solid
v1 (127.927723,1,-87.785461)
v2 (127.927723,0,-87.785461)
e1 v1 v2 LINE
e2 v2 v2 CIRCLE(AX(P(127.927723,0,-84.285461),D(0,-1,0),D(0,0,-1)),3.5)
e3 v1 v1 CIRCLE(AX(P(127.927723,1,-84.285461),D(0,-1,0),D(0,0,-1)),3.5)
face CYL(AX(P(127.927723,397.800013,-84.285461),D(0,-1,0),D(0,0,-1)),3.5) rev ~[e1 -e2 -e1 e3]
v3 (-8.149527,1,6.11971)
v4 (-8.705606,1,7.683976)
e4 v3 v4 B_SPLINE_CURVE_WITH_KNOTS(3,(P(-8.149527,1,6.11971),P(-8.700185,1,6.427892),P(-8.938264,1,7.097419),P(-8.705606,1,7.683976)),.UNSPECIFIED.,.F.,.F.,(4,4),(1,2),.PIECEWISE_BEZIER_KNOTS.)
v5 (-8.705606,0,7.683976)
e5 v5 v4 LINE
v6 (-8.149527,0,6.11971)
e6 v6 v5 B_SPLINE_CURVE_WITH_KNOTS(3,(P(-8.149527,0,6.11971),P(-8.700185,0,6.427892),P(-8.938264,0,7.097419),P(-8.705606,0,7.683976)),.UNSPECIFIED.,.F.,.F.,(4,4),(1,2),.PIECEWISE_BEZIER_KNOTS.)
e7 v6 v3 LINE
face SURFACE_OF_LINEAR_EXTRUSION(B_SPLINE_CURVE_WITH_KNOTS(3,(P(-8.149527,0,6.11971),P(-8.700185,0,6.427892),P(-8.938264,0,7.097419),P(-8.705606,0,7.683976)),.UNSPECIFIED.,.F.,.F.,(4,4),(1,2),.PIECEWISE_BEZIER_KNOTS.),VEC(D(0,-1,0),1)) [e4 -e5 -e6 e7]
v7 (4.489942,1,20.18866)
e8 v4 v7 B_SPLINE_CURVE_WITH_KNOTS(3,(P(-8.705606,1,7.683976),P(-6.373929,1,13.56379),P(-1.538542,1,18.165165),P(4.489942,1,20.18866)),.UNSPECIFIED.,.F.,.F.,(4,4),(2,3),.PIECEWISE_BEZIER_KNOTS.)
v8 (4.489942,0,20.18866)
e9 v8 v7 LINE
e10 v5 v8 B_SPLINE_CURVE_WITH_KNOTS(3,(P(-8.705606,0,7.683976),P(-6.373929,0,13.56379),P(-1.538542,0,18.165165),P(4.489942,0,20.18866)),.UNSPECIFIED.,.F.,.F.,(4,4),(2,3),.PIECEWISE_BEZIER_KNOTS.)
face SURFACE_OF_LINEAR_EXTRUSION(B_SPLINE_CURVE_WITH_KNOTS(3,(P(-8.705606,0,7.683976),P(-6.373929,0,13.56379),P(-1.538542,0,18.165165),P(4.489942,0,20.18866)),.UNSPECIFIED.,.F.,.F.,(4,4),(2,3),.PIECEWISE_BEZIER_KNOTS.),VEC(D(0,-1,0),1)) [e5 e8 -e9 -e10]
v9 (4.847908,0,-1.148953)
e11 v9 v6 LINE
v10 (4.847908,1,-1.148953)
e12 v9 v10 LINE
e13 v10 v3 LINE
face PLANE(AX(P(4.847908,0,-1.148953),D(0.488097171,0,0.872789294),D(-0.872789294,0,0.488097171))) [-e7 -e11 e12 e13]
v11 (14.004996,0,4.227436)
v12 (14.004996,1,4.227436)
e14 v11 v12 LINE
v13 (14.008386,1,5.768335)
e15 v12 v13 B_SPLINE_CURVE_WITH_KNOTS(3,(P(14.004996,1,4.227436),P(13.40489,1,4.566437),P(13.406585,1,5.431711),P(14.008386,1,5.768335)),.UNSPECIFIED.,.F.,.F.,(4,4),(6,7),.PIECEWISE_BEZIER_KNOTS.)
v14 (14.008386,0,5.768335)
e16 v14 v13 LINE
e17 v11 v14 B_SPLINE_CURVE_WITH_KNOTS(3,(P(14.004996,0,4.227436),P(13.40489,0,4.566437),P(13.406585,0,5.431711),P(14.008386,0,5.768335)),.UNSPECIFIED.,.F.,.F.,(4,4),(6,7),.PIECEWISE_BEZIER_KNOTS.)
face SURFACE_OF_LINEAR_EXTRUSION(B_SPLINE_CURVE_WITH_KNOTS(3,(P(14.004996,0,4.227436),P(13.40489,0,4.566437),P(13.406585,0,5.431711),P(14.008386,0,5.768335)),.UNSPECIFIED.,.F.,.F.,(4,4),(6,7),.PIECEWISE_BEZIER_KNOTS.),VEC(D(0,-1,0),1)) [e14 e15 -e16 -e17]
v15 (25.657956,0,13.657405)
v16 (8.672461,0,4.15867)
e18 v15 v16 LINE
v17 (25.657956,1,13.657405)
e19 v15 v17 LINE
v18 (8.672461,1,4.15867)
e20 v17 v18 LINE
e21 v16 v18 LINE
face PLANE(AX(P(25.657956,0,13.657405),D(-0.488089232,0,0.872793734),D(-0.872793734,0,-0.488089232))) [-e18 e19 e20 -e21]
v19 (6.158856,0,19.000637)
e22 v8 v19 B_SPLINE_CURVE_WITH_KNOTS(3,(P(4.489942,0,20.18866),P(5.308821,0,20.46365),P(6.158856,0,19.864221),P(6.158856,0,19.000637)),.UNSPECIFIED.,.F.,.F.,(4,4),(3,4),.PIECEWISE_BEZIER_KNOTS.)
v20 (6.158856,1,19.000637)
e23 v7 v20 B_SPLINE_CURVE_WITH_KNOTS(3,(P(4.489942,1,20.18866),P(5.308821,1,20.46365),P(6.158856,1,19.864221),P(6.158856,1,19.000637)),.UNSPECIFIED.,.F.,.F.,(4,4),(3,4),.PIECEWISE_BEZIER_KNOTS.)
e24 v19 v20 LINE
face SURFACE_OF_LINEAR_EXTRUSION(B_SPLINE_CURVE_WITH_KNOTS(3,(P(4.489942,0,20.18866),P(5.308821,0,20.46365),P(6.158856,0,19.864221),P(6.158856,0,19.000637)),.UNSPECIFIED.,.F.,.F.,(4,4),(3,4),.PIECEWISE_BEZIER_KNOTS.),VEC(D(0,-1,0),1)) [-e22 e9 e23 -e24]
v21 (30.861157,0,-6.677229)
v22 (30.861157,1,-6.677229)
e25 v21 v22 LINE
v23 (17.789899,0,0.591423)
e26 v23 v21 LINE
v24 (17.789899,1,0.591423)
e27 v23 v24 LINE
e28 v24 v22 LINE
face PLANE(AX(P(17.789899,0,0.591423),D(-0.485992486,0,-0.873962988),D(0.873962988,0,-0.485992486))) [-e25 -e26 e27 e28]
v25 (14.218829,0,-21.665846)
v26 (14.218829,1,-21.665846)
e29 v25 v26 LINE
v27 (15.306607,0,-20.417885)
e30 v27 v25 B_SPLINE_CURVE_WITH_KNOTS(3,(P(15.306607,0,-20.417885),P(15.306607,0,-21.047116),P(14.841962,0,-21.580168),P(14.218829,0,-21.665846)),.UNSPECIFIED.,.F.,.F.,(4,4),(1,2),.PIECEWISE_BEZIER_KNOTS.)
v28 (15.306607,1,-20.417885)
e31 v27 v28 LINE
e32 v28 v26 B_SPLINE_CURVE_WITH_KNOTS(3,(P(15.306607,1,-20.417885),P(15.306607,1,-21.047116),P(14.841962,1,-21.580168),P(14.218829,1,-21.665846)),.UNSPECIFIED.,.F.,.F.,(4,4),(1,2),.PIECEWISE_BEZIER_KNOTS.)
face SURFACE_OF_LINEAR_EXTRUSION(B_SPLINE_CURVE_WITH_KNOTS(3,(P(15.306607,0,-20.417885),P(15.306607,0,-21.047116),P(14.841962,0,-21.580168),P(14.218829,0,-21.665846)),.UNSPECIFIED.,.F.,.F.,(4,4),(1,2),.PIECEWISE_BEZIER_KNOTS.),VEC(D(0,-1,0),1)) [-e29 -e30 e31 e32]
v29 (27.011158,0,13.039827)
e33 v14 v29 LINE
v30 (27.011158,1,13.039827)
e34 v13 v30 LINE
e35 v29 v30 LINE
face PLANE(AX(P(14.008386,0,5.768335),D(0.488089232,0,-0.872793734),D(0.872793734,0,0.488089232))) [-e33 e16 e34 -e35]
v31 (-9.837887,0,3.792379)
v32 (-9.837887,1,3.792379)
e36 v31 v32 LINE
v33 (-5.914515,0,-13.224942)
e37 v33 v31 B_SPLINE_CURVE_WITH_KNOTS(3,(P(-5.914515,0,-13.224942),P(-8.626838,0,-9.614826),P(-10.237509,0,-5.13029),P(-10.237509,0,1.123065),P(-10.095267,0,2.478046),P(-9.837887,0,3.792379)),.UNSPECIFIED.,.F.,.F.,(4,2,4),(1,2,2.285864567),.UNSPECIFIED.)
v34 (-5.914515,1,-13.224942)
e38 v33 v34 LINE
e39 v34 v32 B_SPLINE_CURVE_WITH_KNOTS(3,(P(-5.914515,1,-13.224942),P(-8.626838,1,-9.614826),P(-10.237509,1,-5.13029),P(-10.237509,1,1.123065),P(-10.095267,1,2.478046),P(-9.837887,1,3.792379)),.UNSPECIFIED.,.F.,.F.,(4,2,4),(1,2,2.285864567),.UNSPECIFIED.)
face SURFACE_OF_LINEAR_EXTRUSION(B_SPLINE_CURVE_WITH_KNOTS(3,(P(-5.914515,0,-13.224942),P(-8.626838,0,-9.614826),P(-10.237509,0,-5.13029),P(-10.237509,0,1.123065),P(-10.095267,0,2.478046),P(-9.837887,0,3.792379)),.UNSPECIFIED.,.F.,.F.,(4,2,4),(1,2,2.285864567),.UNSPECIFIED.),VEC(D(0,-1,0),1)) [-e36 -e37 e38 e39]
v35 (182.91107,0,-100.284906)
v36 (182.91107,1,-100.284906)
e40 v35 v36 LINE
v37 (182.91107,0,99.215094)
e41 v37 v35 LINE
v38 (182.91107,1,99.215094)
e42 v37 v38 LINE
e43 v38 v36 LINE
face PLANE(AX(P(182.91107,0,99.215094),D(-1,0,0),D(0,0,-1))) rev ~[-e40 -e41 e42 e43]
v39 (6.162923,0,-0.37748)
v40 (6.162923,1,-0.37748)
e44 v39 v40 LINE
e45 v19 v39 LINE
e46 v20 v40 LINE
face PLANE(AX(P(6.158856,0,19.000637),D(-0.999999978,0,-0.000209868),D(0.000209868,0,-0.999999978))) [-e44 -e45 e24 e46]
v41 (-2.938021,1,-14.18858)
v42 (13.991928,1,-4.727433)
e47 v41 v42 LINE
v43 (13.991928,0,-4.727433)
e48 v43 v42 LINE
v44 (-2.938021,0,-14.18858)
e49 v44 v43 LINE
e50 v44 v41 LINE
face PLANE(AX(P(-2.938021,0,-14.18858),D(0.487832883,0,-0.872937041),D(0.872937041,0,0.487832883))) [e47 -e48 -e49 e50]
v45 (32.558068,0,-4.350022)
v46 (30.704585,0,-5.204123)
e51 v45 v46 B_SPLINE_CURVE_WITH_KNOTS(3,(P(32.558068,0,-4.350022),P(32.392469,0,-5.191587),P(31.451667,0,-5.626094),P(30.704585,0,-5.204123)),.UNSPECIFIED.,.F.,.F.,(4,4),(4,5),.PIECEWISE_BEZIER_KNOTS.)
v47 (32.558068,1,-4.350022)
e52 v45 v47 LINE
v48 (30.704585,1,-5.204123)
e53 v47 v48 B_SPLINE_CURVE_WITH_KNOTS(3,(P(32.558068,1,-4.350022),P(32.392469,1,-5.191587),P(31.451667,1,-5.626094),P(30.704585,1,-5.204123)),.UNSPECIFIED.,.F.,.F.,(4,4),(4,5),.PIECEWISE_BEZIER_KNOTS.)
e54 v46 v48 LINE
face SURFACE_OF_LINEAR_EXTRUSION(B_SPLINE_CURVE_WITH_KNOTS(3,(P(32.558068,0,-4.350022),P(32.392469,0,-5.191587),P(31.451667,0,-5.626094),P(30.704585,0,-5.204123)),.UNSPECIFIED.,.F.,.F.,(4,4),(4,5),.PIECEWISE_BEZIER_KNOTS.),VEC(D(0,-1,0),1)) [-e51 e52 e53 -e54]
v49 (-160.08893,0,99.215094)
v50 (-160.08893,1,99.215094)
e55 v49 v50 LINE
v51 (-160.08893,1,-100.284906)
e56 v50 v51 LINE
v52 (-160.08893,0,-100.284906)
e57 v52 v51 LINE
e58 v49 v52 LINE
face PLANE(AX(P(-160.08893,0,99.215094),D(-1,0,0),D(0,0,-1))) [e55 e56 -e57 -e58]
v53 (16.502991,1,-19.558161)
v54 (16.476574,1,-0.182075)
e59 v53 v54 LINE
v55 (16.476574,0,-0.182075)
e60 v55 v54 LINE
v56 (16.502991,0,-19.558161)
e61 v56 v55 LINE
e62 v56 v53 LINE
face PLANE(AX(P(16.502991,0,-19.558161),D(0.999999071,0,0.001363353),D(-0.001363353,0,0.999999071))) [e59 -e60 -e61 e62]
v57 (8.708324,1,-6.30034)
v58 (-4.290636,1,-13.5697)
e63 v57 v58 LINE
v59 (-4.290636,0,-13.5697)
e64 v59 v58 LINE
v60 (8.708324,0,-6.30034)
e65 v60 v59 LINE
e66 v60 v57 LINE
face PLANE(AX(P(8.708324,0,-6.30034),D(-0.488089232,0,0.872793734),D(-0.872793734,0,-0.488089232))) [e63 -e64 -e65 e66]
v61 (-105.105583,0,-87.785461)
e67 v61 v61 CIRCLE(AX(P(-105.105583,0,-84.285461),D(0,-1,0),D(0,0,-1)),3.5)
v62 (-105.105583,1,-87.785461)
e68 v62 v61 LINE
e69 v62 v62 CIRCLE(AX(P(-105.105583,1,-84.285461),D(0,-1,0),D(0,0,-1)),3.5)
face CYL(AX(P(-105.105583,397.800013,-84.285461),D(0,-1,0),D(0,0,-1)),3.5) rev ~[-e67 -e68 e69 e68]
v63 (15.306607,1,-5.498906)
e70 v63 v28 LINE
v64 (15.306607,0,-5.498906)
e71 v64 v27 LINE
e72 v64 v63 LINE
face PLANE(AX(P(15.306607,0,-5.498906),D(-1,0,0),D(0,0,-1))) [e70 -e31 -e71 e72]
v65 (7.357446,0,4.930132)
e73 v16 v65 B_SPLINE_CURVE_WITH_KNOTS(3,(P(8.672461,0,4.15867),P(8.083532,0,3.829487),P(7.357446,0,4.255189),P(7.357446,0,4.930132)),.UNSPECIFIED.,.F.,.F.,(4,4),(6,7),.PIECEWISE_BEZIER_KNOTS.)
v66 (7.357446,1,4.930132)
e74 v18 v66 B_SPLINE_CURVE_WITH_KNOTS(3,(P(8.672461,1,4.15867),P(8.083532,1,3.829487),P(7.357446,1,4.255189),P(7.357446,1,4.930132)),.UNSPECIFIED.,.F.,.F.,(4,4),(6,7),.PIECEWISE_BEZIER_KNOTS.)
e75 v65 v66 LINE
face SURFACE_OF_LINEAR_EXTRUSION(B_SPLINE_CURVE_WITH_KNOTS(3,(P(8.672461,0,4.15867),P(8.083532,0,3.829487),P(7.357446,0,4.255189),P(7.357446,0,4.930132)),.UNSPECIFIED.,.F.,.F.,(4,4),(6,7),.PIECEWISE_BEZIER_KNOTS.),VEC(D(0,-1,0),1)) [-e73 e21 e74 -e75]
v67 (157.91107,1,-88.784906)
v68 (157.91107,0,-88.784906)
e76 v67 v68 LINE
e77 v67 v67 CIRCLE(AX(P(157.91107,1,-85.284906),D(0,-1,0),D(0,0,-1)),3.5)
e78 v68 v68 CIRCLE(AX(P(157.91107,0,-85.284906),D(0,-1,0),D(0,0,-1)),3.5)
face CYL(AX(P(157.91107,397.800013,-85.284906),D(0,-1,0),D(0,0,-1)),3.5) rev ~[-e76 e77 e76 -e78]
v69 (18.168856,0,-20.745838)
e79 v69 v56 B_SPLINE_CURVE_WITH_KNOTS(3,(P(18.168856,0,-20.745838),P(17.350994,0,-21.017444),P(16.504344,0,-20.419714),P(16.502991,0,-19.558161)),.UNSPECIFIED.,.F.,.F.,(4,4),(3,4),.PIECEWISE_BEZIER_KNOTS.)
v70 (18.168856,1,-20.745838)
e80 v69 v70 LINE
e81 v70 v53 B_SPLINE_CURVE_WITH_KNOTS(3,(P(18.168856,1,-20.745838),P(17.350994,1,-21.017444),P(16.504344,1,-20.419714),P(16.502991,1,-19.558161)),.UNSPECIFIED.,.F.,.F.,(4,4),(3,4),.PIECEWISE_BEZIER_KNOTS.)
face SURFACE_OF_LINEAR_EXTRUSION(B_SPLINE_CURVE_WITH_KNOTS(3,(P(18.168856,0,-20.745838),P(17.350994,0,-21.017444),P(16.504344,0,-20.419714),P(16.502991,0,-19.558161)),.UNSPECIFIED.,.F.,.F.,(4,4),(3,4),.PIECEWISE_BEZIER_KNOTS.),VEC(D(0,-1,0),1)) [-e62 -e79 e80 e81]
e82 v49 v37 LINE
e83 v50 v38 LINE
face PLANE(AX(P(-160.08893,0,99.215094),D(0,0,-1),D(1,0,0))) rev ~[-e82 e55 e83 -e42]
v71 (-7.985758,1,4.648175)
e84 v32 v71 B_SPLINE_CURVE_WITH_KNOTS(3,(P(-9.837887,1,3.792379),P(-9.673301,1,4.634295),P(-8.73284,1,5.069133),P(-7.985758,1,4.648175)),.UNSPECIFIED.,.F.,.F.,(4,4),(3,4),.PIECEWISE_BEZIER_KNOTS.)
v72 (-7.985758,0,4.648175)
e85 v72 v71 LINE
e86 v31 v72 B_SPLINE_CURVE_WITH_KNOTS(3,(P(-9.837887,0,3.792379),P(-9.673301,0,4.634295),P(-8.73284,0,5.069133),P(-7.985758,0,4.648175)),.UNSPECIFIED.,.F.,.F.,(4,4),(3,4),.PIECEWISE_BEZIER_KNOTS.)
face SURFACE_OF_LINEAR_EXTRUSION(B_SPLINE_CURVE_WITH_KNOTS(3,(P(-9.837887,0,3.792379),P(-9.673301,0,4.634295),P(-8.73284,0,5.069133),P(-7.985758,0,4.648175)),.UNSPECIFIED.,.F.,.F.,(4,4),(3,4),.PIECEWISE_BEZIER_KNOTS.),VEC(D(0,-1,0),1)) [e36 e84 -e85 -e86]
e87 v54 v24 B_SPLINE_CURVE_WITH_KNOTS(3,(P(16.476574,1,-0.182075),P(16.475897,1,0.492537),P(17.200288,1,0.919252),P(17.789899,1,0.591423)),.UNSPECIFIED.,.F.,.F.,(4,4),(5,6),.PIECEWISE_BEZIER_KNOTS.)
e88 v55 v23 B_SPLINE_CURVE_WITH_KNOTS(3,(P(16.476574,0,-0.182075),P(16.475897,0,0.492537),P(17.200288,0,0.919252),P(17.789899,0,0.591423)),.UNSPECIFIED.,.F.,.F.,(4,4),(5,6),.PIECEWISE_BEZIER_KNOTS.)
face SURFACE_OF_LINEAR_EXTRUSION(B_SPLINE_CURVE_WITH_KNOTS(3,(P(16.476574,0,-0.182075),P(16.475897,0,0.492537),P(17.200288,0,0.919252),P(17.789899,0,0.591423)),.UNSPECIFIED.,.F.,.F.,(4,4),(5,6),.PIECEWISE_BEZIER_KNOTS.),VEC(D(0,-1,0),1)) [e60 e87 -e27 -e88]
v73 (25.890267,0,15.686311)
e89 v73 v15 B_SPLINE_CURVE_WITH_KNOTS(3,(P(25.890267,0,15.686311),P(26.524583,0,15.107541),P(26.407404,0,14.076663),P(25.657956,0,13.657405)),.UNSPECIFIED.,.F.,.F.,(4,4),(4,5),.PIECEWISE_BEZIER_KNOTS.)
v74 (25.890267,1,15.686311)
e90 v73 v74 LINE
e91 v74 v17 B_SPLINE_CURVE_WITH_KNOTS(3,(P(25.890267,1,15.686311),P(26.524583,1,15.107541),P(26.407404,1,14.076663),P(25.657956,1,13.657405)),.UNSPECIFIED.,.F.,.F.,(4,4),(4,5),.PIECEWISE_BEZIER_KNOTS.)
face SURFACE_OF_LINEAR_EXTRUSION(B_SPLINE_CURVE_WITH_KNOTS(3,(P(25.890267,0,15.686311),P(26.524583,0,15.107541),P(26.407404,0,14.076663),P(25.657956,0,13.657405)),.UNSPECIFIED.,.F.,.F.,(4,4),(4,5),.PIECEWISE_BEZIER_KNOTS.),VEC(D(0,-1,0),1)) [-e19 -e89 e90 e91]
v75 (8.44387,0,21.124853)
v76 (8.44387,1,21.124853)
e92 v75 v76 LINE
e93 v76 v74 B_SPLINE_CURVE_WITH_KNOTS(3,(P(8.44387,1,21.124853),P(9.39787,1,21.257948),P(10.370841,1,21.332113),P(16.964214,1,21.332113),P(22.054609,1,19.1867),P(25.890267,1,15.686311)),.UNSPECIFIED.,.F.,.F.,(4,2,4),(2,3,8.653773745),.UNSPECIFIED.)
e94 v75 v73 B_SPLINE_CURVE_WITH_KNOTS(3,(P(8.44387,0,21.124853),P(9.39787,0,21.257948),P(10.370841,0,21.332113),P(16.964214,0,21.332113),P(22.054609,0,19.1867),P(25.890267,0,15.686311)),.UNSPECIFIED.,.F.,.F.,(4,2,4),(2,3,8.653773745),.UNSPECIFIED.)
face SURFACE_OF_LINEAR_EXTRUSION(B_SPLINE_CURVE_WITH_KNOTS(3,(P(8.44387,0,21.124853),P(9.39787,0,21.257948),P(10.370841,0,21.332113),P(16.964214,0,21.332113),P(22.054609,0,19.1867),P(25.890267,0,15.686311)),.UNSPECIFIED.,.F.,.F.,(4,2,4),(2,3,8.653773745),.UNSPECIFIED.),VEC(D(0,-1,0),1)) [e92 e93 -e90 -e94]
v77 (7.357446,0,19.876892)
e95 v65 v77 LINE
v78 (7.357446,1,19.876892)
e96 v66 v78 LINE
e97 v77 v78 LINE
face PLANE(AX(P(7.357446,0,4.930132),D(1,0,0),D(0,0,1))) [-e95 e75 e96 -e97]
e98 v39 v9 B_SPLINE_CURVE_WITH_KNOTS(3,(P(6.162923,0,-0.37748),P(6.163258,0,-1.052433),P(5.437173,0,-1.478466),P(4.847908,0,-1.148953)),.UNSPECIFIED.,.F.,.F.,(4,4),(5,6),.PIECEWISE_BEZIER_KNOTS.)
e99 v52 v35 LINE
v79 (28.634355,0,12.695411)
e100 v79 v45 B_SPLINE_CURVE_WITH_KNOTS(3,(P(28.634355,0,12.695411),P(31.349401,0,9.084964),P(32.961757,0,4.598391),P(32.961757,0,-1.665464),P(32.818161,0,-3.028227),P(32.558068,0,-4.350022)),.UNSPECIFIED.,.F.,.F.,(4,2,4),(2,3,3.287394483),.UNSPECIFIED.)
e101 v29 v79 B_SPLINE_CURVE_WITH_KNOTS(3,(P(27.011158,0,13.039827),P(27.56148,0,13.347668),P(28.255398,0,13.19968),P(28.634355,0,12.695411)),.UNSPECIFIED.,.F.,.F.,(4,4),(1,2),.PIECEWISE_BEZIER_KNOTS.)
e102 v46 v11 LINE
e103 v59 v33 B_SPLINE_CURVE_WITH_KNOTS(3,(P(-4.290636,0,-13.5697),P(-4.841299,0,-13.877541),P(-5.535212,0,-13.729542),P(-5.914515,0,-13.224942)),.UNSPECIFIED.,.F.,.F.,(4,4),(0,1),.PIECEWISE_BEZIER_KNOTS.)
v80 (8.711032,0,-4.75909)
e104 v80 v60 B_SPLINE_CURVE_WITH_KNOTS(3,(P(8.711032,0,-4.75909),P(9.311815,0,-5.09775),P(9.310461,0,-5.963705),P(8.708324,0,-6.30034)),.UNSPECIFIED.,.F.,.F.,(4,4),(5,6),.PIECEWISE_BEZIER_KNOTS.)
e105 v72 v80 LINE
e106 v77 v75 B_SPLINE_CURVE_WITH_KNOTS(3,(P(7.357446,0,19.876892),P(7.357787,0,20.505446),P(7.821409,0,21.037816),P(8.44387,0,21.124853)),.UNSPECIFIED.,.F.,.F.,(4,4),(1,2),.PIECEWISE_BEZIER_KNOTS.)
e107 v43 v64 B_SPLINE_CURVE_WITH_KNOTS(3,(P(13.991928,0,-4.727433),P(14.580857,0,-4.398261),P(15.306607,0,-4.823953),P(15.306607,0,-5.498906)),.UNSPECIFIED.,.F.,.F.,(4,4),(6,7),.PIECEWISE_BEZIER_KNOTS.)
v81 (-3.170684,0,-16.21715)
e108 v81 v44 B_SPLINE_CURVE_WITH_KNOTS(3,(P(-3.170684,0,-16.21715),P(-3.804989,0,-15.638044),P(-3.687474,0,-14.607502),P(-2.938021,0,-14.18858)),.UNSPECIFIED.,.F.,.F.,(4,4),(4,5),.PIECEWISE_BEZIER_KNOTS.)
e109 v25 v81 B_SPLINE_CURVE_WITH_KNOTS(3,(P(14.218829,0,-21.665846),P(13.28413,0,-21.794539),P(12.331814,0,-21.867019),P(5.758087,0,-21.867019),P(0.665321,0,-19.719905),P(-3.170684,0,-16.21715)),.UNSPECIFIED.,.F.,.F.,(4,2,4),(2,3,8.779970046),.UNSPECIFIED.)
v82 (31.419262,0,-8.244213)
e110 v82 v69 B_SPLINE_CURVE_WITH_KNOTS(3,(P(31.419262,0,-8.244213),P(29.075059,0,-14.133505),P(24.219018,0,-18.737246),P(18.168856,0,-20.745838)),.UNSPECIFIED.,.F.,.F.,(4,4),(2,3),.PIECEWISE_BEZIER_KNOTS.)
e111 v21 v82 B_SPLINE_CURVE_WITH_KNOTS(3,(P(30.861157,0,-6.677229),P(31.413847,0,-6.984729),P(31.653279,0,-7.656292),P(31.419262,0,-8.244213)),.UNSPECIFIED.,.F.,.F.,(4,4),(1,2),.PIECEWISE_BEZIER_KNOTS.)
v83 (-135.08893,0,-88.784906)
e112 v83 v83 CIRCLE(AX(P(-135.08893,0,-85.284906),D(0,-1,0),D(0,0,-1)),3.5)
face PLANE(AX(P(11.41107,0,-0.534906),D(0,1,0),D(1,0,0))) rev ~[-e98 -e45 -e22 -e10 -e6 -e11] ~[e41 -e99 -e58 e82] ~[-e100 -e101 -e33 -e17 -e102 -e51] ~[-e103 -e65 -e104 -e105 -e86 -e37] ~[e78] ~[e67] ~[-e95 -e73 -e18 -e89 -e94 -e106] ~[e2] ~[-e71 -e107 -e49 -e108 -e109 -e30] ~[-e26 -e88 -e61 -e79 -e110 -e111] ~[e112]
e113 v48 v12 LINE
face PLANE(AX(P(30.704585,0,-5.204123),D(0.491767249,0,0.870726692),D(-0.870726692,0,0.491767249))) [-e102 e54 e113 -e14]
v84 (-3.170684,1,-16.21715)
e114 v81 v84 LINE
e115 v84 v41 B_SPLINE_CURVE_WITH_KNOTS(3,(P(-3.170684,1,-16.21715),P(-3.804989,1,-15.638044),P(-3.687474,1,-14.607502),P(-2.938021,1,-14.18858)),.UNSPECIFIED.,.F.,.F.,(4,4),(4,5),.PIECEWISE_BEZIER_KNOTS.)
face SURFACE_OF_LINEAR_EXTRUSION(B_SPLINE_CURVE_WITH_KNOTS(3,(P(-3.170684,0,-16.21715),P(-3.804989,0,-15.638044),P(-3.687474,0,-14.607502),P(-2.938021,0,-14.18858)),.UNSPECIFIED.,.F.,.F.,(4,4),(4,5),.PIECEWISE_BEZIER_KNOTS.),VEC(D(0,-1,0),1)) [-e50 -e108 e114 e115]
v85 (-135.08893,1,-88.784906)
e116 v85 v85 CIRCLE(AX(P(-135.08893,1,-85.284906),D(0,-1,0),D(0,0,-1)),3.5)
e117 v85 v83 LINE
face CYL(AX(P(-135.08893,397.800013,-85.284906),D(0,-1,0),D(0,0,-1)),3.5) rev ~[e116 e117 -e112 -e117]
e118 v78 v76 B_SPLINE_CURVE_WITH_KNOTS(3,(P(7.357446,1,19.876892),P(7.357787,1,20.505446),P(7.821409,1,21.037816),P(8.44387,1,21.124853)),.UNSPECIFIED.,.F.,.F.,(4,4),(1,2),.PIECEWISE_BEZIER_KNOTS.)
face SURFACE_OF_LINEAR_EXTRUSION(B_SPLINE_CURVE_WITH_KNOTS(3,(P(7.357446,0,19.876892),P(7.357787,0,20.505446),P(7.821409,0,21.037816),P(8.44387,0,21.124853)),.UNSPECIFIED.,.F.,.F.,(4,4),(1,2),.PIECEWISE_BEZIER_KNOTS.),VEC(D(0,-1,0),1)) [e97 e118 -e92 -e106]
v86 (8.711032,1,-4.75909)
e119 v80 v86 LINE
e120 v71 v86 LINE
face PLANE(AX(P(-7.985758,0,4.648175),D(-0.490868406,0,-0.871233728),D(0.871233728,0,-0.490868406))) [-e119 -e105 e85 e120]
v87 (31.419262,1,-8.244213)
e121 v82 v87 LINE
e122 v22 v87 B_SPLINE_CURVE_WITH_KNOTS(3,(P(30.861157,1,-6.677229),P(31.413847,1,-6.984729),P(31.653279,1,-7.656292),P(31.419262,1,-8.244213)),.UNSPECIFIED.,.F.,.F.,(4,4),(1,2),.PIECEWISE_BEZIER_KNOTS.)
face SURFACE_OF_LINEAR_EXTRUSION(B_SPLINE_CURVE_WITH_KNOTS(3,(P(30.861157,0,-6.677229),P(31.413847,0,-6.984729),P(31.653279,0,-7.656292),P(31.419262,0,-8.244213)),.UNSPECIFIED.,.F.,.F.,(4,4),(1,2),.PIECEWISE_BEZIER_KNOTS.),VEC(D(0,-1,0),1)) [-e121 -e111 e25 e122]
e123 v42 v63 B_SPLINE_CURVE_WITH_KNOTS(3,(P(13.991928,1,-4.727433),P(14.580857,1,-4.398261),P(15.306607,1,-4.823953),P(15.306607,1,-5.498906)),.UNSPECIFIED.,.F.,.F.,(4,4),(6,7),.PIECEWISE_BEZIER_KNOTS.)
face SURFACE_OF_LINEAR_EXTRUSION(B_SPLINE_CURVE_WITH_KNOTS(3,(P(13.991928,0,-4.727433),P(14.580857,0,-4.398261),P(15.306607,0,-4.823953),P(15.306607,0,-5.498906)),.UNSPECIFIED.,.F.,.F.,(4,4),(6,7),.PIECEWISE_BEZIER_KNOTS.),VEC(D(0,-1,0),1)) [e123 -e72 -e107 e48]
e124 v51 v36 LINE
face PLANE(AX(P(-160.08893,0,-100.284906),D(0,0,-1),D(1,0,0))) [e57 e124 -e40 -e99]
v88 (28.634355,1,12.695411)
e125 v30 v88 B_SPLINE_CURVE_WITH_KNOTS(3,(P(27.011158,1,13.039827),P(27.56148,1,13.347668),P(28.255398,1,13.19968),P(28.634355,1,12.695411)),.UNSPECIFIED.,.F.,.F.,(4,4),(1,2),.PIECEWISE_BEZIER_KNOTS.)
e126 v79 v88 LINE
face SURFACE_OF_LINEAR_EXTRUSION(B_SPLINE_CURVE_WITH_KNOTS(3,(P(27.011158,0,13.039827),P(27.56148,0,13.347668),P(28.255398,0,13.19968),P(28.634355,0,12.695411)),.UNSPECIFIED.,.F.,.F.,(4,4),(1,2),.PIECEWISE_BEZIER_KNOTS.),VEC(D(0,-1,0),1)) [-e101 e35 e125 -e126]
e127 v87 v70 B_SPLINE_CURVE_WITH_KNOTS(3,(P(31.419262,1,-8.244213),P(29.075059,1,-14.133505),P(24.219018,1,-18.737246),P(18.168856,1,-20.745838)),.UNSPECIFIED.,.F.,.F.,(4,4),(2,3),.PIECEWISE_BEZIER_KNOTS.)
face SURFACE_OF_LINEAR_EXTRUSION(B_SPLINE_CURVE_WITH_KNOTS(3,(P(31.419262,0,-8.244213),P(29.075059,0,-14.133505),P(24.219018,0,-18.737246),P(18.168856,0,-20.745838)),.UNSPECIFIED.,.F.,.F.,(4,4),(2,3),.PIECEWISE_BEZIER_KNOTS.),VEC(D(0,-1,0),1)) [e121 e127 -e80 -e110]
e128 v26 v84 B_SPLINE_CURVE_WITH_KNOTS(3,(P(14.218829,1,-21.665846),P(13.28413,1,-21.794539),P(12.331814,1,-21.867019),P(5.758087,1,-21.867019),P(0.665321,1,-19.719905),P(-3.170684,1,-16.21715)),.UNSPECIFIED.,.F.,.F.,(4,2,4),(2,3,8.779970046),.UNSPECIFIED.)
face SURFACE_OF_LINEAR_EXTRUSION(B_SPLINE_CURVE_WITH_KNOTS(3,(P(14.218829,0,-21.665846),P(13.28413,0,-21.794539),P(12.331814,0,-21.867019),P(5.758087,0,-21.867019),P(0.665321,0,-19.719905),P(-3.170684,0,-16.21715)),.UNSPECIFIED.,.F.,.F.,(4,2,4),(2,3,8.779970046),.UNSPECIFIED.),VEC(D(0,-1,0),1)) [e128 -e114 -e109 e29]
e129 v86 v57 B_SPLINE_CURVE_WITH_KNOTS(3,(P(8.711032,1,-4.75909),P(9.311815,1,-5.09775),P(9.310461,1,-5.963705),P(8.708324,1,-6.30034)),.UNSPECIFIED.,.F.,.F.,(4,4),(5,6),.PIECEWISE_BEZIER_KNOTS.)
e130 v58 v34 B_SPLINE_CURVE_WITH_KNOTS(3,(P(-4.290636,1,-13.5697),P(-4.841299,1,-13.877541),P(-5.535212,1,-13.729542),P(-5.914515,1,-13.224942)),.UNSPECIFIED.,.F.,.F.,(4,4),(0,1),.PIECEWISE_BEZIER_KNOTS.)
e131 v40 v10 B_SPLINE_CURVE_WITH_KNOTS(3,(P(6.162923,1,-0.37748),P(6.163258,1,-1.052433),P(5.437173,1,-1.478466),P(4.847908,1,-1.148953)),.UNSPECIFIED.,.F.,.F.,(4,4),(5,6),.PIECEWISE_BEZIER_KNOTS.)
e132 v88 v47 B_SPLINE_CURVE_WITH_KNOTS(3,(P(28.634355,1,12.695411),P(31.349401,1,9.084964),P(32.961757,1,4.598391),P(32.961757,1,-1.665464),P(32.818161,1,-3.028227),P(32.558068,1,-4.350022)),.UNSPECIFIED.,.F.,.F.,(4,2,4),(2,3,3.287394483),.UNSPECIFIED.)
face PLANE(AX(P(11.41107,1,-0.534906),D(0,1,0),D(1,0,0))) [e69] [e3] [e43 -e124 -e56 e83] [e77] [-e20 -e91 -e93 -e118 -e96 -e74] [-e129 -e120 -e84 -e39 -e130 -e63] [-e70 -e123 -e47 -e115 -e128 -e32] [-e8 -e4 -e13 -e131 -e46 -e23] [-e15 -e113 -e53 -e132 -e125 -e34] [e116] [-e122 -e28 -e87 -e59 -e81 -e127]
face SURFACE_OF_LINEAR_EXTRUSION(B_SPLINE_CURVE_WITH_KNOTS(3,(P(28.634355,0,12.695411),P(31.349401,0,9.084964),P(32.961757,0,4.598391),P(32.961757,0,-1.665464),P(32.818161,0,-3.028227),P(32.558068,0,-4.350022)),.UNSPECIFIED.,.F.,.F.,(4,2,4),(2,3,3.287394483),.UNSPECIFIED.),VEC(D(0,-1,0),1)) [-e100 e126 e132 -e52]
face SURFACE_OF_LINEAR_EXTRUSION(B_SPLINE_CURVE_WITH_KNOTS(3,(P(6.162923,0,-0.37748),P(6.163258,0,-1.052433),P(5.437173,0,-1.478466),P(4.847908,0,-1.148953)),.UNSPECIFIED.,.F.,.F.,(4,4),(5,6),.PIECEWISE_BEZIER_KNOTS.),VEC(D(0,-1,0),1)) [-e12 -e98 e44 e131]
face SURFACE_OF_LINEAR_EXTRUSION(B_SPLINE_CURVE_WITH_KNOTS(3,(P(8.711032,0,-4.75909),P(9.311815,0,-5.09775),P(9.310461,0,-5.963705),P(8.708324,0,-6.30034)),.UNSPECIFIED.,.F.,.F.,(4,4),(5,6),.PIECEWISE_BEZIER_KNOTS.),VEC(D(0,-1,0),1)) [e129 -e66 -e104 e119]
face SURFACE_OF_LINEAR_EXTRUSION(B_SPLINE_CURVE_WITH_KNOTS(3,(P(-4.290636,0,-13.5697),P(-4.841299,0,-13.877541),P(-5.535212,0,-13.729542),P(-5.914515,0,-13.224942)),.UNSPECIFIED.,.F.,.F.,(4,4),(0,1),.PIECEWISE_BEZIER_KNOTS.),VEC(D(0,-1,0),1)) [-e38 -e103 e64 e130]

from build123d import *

# Parameters (mm, degrees)
SKETCH1_W            = 343
SKETCH1_H            = 199.5
BOSS_EXTRUDE1_DEPTH  = 1
M6_CLEARANCE_HOLE1_D = 7


with BuildPart() as part:
    # Sketch1 → Boss-Extrude1 (new body)
    with BuildSketch(Plane(origin=(0, 0, 0), x_dir=(1, 0, 0), z_dir=(0, 1, 0))):
        with Locations((11.41106981, 0.534905995)):
            Rectangle(SKETCH1_W, SKETCH1_H)
        with BuildLine():
            Line((-7.985757833, -4.648175221), (8.711031725, 4.759089682))
            add(Edge.make_bspline(
                [(8.711031725, 4.759089682), (9.311815171, 5.097749627), (9.310461275, 5.963705422), (8.708323934, 6.300339691)],
                knots=[5, 5, 5, 5, 6, 6, 6, 6], degree=3))
            Line((8.708323934, 6.300339691), (-4.290635533, 13.569700018))
            add(Edge.make_bspline(
                [(-4.290635533, 13.569700018), (-4.841299002, 13.877540751), (-5.535211865, 13.729542386), (-5.914514518, 13.224942375)],
                knots=[0, 0, 0, 0, 1, 1, 1, 1], degree=3))
            add(Edge.make_bspline(
                [(-5.914514518, 13.224942375), (-8.626837761, 9.614826119), (-10.237508511, 5.130289637), (-10.237508511, 0.267137786)],
                knots=[1, 1, 1, 1, 2, 2, 2, 2], degree=3))
            add(Edge.make_bspline(
                [(-10.237508511, 0.267137786), (-10.237508511, -1.12306501), (-10.095266787, -2.478045848), (-9.837887089, -3.792378812)],
                knots=[2, 2, 2, 2, 3, 3, 3, 3], degree=3))
            add(Edge.make_bspline(
                [(-9.837887089, -3.792378812), (-9.673300918, -4.634295207), (-8.732839522, -5.069133419), (-7.985757833, -4.648175221)],
                knots=[3, 3, 3, 3, 4, 4, 4, 4], degree=3))
        make_face(mode=Mode.SUBTRACT)
        with BuildLine():
            Line((17.789899426, -0.591423265), (30.86115737, 6.677229102))
            add(Edge.make_bspline(
                [(30.86115737, 6.677229102), (31.413846515, 6.984728777), (31.653279344, 7.656292027), (31.419262097, 8.244213464)],
                knots=[1, 1, 1, 1, 2, 2, 2, 2], degree=3))
            add(Edge.make_bspline(
                [(31.419262097, 8.244213464), (29.075058949, 14.133504536), (24.219017634, 18.737245846), (18.168855853, 20.745837898)],
                knots=[2, 2, 2, 2, 3, 3, 3, 3], degree=3))
            add(Edge.make_bspline(
                [(18.168855853, 20.745837898), (17.350994359, 21.017443836), (16.504344496, 20.419714407), (16.502990601, 19.558161356)],
                knots=[3, 3, 3, 3, 4, 4, 4, 4], degree=3))
            Line((16.502990601, 19.558161356), (16.476574133, 0.182074892))
            add(Edge.make_bspline(
                [(16.476574133, 0.182074892), (16.475897185, -0.492537207), (17.200288203, -0.919252045), (17.789899426, -0.591423265)],
                knots=[5, 5, 5, 5, 6, 6, 6, 6], degree=3))
        make_face(mode=Mode.SUBTRACT)
        with BuildLine():
            Line((14.008386181, -5.768334993), (27.011157828, -13.039827191))
            add(Edge.make_bspline(
                [(27.011157828, -13.039827191), (27.561480239, -13.347667924), (28.25539827, -13.199679894), (28.634354697, -12.695410606)],
                knots=[1, 1, 1, 1, 2, 2, 2, 2], degree=3))
            add(Edge.make_bspline(
                [(28.634354697, -12.695410606), (31.349401234, -9.084963628), (32.961756602, -4.598391135), (32.961756602, 0.267137786)],
                knots=[2, 2, 2, 2, 3, 3, 3, 3], degree=3))
            add(Edge.make_bspline(
                [(32.961756602, 0.267137786), (32.961756602, 1.665463955), (32.818160982, 3.02822711), (32.558068326, 4.350022002)],
                knots=[3, 3, 3, 3, 4, 4, 4, 4], degree=3))
            add(Edge.make_bspline(
                [(32.558068326, 4.350022002), (32.392469317, 5.191587005), (31.451666864, 5.626094494), (30.704585174, 5.204123458)],
                knots=[4, 4, 4, 4, 5, 5, 5, 5], degree=3))
            Line((30.704585174, 5.204123458), (14.004996275, -4.227436377))
            add(Edge.make_bspline(
                [(14.004996275, -4.227436377), (13.404889777, -4.56643738), (13.40658473, -5.431711059), (14.008386181, -5.768334993)],
                knots=[6, 6, 6, 6, 7, 7, 7, 7], degree=3))
        make_face(mode=Mode.SUBTRACT)
        with BuildLine():
            Line((15.306606753, 5.498905809), (15.306606753, 20.417885097))
            add(Edge.make_bspline(
                [(15.306606753, 20.417885097), (15.306606753, 21.047115854), (14.841962166, 21.580168344), (14.218829107, 21.665846168)],
                knots=[1, 1, 1, 1, 2, 2, 2, 2], degree=3))
            add(Edge.make_bspline(
                [(14.218829107, 21.665846168), (13.284129519, 21.794538601), (12.331813785, 21.867018527), (11.362233297, 21.867018527)],
                knots=[2, 2, 2, 2, 3, 3, 3, 3], degree=3))
            add(Edge.make_bspline(
                [(11.362233297, 21.867018527), (5.758087119, 21.867018527), (0.665320765, 19.719905379), (-3.170684195, 16.217149949)],
                knots=[3, 3, 3, 3, 4, 4, 4, 4], degree=3))
            add(Edge.make_bspline(
                [(-3.170684195, 16.217149949), (-3.804989477, 15.638044336), (-3.687474435, 14.607502371), (-2.938020844, 14.188580184)],
                knots=[4, 4, 4, 4, 5, 5, 5, 5], degree=3))
            Line((-2.938020844, 14.188580184), (13.991927564, 4.727433328))
            add(Edge.make_bspline(
                [(13.991927564, 4.727433328), (14.580856672, 4.398260987), (15.306606753, 4.823952653), (15.306606753, 5.498905809)],
                knots=[6, 6, 6, 6, 7, 7, 7, 7], degree=3))
        make_face(mode=Mode.SUBTRACT)
        with BuildLine():
            Line((7.357446123, -4.930131749), (7.357446123, -19.87689174))
            add(Edge.make_bspline(
                [(7.357446123, -19.87689174), (7.357787181, -20.505445549), (7.821408594, -21.037815923), (8.443869873, -21.124852811)],
                knots=[1, 1, 1, 1, 2, 2, 2, 2], degree=3))
            add(Edge.make_bspline(
                [(8.443869873, -21.124852811), (9.397870225, -21.257947988), (10.37084062, -21.332112532), (11.361763051, -21.332112532)],
                knots=[2, 2, 2, 2, 3, 3, 3, 3], degree=3))
            add(Edge.make_bspline(
                [(11.361763051, -21.332112532), (16.964214275, -21.332112532), (22.054608728, -19.186699506), (25.890267463, -15.686310809)],
                knots=[3, 3, 3, 3, 4, 4, 4, 4], degree=3))
            add(Edge.make_bspline(
                [(25.890267463, -15.686310809), (26.52458308, -15.107541086), (26.407403928, -14.076663231), (25.657955505, -13.657405154)],
                knots=[4, 4, 4, 4, 5, 5, 5, 5], degree=3))
            Line((25.657955505, -13.657405154), (8.672461202, -4.158669603))
            add(Edge.make_bspline(
                [(8.672461202, -4.158669603), (8.083532094, -3.829486928), (7.357446123, -4.255188928), (7.357446123, -4.930131749)],
                knots=[6, 6, 6, 6, 7, 7, 7, 7], degree=3))
        make_face(mode=Mode.SUBTRACT)
        with BuildLine():
            Line((4.847907511, 1.148952756), (-8.149526948, -6.119709946))
            add(Edge.make_bspline(
                [(-8.149526948, -6.119709946), (-8.700185249, -6.427891736), (-8.938264182, -7.097418975), (-8.705605999, -7.683976181)],
                knots=[1, 1, 1, 1, 2, 2, 2, 2], degree=3))
            add(Edge.make_bspline(
                [(-8.705605999, -7.683976181), (-6.373928969, -13.563789984), (-1.538542313, -18.16516456), (4.489941634, -20.188659799)],
                knots=[2, 2, 2, 2, 3, 3, 3, 3], degree=3))
            add(Edge.make_bspline(
                [(4.489941634, -20.188659799), (5.308821133, -20.463650476), (6.158855735, -19.864220926), (6.158855735, -19.000637033)],
                knots=[3, 3, 3, 3, 4, 4, 4, 4], degree=3))
            Line((6.158855735, -19.000637033), (6.16292259, 0.377480275))
            add(Edge.make_bspline(
                [(6.16292259, 0.377480275), (6.16325848, 1.052433432), (5.437172508, 1.478466155), (4.847907511, 1.148952756)],
                knots=[5, 5, 5, 5, 6, 6, 6, 6], degree=3))
        make_face(mode=Mode.SUBTRACT)
    extrude(amount=BOSS_EXTRUDE1_DEPTH)

    # M6 Clearance Hole1 (through all)
    with Locations(Plane(origin=(-135.08893019, 1, -85.284905995), x_dir=(0, 0, 1), z_dir=(0, 1, 0))):
        with Locations((0, 0), (0.999444907, 29.983347209), (0.999444907, 263.016652791), (0, 293)):
            Hole(M6_CLEARANCE_HOLE1_D / 2)


solid = part.part
